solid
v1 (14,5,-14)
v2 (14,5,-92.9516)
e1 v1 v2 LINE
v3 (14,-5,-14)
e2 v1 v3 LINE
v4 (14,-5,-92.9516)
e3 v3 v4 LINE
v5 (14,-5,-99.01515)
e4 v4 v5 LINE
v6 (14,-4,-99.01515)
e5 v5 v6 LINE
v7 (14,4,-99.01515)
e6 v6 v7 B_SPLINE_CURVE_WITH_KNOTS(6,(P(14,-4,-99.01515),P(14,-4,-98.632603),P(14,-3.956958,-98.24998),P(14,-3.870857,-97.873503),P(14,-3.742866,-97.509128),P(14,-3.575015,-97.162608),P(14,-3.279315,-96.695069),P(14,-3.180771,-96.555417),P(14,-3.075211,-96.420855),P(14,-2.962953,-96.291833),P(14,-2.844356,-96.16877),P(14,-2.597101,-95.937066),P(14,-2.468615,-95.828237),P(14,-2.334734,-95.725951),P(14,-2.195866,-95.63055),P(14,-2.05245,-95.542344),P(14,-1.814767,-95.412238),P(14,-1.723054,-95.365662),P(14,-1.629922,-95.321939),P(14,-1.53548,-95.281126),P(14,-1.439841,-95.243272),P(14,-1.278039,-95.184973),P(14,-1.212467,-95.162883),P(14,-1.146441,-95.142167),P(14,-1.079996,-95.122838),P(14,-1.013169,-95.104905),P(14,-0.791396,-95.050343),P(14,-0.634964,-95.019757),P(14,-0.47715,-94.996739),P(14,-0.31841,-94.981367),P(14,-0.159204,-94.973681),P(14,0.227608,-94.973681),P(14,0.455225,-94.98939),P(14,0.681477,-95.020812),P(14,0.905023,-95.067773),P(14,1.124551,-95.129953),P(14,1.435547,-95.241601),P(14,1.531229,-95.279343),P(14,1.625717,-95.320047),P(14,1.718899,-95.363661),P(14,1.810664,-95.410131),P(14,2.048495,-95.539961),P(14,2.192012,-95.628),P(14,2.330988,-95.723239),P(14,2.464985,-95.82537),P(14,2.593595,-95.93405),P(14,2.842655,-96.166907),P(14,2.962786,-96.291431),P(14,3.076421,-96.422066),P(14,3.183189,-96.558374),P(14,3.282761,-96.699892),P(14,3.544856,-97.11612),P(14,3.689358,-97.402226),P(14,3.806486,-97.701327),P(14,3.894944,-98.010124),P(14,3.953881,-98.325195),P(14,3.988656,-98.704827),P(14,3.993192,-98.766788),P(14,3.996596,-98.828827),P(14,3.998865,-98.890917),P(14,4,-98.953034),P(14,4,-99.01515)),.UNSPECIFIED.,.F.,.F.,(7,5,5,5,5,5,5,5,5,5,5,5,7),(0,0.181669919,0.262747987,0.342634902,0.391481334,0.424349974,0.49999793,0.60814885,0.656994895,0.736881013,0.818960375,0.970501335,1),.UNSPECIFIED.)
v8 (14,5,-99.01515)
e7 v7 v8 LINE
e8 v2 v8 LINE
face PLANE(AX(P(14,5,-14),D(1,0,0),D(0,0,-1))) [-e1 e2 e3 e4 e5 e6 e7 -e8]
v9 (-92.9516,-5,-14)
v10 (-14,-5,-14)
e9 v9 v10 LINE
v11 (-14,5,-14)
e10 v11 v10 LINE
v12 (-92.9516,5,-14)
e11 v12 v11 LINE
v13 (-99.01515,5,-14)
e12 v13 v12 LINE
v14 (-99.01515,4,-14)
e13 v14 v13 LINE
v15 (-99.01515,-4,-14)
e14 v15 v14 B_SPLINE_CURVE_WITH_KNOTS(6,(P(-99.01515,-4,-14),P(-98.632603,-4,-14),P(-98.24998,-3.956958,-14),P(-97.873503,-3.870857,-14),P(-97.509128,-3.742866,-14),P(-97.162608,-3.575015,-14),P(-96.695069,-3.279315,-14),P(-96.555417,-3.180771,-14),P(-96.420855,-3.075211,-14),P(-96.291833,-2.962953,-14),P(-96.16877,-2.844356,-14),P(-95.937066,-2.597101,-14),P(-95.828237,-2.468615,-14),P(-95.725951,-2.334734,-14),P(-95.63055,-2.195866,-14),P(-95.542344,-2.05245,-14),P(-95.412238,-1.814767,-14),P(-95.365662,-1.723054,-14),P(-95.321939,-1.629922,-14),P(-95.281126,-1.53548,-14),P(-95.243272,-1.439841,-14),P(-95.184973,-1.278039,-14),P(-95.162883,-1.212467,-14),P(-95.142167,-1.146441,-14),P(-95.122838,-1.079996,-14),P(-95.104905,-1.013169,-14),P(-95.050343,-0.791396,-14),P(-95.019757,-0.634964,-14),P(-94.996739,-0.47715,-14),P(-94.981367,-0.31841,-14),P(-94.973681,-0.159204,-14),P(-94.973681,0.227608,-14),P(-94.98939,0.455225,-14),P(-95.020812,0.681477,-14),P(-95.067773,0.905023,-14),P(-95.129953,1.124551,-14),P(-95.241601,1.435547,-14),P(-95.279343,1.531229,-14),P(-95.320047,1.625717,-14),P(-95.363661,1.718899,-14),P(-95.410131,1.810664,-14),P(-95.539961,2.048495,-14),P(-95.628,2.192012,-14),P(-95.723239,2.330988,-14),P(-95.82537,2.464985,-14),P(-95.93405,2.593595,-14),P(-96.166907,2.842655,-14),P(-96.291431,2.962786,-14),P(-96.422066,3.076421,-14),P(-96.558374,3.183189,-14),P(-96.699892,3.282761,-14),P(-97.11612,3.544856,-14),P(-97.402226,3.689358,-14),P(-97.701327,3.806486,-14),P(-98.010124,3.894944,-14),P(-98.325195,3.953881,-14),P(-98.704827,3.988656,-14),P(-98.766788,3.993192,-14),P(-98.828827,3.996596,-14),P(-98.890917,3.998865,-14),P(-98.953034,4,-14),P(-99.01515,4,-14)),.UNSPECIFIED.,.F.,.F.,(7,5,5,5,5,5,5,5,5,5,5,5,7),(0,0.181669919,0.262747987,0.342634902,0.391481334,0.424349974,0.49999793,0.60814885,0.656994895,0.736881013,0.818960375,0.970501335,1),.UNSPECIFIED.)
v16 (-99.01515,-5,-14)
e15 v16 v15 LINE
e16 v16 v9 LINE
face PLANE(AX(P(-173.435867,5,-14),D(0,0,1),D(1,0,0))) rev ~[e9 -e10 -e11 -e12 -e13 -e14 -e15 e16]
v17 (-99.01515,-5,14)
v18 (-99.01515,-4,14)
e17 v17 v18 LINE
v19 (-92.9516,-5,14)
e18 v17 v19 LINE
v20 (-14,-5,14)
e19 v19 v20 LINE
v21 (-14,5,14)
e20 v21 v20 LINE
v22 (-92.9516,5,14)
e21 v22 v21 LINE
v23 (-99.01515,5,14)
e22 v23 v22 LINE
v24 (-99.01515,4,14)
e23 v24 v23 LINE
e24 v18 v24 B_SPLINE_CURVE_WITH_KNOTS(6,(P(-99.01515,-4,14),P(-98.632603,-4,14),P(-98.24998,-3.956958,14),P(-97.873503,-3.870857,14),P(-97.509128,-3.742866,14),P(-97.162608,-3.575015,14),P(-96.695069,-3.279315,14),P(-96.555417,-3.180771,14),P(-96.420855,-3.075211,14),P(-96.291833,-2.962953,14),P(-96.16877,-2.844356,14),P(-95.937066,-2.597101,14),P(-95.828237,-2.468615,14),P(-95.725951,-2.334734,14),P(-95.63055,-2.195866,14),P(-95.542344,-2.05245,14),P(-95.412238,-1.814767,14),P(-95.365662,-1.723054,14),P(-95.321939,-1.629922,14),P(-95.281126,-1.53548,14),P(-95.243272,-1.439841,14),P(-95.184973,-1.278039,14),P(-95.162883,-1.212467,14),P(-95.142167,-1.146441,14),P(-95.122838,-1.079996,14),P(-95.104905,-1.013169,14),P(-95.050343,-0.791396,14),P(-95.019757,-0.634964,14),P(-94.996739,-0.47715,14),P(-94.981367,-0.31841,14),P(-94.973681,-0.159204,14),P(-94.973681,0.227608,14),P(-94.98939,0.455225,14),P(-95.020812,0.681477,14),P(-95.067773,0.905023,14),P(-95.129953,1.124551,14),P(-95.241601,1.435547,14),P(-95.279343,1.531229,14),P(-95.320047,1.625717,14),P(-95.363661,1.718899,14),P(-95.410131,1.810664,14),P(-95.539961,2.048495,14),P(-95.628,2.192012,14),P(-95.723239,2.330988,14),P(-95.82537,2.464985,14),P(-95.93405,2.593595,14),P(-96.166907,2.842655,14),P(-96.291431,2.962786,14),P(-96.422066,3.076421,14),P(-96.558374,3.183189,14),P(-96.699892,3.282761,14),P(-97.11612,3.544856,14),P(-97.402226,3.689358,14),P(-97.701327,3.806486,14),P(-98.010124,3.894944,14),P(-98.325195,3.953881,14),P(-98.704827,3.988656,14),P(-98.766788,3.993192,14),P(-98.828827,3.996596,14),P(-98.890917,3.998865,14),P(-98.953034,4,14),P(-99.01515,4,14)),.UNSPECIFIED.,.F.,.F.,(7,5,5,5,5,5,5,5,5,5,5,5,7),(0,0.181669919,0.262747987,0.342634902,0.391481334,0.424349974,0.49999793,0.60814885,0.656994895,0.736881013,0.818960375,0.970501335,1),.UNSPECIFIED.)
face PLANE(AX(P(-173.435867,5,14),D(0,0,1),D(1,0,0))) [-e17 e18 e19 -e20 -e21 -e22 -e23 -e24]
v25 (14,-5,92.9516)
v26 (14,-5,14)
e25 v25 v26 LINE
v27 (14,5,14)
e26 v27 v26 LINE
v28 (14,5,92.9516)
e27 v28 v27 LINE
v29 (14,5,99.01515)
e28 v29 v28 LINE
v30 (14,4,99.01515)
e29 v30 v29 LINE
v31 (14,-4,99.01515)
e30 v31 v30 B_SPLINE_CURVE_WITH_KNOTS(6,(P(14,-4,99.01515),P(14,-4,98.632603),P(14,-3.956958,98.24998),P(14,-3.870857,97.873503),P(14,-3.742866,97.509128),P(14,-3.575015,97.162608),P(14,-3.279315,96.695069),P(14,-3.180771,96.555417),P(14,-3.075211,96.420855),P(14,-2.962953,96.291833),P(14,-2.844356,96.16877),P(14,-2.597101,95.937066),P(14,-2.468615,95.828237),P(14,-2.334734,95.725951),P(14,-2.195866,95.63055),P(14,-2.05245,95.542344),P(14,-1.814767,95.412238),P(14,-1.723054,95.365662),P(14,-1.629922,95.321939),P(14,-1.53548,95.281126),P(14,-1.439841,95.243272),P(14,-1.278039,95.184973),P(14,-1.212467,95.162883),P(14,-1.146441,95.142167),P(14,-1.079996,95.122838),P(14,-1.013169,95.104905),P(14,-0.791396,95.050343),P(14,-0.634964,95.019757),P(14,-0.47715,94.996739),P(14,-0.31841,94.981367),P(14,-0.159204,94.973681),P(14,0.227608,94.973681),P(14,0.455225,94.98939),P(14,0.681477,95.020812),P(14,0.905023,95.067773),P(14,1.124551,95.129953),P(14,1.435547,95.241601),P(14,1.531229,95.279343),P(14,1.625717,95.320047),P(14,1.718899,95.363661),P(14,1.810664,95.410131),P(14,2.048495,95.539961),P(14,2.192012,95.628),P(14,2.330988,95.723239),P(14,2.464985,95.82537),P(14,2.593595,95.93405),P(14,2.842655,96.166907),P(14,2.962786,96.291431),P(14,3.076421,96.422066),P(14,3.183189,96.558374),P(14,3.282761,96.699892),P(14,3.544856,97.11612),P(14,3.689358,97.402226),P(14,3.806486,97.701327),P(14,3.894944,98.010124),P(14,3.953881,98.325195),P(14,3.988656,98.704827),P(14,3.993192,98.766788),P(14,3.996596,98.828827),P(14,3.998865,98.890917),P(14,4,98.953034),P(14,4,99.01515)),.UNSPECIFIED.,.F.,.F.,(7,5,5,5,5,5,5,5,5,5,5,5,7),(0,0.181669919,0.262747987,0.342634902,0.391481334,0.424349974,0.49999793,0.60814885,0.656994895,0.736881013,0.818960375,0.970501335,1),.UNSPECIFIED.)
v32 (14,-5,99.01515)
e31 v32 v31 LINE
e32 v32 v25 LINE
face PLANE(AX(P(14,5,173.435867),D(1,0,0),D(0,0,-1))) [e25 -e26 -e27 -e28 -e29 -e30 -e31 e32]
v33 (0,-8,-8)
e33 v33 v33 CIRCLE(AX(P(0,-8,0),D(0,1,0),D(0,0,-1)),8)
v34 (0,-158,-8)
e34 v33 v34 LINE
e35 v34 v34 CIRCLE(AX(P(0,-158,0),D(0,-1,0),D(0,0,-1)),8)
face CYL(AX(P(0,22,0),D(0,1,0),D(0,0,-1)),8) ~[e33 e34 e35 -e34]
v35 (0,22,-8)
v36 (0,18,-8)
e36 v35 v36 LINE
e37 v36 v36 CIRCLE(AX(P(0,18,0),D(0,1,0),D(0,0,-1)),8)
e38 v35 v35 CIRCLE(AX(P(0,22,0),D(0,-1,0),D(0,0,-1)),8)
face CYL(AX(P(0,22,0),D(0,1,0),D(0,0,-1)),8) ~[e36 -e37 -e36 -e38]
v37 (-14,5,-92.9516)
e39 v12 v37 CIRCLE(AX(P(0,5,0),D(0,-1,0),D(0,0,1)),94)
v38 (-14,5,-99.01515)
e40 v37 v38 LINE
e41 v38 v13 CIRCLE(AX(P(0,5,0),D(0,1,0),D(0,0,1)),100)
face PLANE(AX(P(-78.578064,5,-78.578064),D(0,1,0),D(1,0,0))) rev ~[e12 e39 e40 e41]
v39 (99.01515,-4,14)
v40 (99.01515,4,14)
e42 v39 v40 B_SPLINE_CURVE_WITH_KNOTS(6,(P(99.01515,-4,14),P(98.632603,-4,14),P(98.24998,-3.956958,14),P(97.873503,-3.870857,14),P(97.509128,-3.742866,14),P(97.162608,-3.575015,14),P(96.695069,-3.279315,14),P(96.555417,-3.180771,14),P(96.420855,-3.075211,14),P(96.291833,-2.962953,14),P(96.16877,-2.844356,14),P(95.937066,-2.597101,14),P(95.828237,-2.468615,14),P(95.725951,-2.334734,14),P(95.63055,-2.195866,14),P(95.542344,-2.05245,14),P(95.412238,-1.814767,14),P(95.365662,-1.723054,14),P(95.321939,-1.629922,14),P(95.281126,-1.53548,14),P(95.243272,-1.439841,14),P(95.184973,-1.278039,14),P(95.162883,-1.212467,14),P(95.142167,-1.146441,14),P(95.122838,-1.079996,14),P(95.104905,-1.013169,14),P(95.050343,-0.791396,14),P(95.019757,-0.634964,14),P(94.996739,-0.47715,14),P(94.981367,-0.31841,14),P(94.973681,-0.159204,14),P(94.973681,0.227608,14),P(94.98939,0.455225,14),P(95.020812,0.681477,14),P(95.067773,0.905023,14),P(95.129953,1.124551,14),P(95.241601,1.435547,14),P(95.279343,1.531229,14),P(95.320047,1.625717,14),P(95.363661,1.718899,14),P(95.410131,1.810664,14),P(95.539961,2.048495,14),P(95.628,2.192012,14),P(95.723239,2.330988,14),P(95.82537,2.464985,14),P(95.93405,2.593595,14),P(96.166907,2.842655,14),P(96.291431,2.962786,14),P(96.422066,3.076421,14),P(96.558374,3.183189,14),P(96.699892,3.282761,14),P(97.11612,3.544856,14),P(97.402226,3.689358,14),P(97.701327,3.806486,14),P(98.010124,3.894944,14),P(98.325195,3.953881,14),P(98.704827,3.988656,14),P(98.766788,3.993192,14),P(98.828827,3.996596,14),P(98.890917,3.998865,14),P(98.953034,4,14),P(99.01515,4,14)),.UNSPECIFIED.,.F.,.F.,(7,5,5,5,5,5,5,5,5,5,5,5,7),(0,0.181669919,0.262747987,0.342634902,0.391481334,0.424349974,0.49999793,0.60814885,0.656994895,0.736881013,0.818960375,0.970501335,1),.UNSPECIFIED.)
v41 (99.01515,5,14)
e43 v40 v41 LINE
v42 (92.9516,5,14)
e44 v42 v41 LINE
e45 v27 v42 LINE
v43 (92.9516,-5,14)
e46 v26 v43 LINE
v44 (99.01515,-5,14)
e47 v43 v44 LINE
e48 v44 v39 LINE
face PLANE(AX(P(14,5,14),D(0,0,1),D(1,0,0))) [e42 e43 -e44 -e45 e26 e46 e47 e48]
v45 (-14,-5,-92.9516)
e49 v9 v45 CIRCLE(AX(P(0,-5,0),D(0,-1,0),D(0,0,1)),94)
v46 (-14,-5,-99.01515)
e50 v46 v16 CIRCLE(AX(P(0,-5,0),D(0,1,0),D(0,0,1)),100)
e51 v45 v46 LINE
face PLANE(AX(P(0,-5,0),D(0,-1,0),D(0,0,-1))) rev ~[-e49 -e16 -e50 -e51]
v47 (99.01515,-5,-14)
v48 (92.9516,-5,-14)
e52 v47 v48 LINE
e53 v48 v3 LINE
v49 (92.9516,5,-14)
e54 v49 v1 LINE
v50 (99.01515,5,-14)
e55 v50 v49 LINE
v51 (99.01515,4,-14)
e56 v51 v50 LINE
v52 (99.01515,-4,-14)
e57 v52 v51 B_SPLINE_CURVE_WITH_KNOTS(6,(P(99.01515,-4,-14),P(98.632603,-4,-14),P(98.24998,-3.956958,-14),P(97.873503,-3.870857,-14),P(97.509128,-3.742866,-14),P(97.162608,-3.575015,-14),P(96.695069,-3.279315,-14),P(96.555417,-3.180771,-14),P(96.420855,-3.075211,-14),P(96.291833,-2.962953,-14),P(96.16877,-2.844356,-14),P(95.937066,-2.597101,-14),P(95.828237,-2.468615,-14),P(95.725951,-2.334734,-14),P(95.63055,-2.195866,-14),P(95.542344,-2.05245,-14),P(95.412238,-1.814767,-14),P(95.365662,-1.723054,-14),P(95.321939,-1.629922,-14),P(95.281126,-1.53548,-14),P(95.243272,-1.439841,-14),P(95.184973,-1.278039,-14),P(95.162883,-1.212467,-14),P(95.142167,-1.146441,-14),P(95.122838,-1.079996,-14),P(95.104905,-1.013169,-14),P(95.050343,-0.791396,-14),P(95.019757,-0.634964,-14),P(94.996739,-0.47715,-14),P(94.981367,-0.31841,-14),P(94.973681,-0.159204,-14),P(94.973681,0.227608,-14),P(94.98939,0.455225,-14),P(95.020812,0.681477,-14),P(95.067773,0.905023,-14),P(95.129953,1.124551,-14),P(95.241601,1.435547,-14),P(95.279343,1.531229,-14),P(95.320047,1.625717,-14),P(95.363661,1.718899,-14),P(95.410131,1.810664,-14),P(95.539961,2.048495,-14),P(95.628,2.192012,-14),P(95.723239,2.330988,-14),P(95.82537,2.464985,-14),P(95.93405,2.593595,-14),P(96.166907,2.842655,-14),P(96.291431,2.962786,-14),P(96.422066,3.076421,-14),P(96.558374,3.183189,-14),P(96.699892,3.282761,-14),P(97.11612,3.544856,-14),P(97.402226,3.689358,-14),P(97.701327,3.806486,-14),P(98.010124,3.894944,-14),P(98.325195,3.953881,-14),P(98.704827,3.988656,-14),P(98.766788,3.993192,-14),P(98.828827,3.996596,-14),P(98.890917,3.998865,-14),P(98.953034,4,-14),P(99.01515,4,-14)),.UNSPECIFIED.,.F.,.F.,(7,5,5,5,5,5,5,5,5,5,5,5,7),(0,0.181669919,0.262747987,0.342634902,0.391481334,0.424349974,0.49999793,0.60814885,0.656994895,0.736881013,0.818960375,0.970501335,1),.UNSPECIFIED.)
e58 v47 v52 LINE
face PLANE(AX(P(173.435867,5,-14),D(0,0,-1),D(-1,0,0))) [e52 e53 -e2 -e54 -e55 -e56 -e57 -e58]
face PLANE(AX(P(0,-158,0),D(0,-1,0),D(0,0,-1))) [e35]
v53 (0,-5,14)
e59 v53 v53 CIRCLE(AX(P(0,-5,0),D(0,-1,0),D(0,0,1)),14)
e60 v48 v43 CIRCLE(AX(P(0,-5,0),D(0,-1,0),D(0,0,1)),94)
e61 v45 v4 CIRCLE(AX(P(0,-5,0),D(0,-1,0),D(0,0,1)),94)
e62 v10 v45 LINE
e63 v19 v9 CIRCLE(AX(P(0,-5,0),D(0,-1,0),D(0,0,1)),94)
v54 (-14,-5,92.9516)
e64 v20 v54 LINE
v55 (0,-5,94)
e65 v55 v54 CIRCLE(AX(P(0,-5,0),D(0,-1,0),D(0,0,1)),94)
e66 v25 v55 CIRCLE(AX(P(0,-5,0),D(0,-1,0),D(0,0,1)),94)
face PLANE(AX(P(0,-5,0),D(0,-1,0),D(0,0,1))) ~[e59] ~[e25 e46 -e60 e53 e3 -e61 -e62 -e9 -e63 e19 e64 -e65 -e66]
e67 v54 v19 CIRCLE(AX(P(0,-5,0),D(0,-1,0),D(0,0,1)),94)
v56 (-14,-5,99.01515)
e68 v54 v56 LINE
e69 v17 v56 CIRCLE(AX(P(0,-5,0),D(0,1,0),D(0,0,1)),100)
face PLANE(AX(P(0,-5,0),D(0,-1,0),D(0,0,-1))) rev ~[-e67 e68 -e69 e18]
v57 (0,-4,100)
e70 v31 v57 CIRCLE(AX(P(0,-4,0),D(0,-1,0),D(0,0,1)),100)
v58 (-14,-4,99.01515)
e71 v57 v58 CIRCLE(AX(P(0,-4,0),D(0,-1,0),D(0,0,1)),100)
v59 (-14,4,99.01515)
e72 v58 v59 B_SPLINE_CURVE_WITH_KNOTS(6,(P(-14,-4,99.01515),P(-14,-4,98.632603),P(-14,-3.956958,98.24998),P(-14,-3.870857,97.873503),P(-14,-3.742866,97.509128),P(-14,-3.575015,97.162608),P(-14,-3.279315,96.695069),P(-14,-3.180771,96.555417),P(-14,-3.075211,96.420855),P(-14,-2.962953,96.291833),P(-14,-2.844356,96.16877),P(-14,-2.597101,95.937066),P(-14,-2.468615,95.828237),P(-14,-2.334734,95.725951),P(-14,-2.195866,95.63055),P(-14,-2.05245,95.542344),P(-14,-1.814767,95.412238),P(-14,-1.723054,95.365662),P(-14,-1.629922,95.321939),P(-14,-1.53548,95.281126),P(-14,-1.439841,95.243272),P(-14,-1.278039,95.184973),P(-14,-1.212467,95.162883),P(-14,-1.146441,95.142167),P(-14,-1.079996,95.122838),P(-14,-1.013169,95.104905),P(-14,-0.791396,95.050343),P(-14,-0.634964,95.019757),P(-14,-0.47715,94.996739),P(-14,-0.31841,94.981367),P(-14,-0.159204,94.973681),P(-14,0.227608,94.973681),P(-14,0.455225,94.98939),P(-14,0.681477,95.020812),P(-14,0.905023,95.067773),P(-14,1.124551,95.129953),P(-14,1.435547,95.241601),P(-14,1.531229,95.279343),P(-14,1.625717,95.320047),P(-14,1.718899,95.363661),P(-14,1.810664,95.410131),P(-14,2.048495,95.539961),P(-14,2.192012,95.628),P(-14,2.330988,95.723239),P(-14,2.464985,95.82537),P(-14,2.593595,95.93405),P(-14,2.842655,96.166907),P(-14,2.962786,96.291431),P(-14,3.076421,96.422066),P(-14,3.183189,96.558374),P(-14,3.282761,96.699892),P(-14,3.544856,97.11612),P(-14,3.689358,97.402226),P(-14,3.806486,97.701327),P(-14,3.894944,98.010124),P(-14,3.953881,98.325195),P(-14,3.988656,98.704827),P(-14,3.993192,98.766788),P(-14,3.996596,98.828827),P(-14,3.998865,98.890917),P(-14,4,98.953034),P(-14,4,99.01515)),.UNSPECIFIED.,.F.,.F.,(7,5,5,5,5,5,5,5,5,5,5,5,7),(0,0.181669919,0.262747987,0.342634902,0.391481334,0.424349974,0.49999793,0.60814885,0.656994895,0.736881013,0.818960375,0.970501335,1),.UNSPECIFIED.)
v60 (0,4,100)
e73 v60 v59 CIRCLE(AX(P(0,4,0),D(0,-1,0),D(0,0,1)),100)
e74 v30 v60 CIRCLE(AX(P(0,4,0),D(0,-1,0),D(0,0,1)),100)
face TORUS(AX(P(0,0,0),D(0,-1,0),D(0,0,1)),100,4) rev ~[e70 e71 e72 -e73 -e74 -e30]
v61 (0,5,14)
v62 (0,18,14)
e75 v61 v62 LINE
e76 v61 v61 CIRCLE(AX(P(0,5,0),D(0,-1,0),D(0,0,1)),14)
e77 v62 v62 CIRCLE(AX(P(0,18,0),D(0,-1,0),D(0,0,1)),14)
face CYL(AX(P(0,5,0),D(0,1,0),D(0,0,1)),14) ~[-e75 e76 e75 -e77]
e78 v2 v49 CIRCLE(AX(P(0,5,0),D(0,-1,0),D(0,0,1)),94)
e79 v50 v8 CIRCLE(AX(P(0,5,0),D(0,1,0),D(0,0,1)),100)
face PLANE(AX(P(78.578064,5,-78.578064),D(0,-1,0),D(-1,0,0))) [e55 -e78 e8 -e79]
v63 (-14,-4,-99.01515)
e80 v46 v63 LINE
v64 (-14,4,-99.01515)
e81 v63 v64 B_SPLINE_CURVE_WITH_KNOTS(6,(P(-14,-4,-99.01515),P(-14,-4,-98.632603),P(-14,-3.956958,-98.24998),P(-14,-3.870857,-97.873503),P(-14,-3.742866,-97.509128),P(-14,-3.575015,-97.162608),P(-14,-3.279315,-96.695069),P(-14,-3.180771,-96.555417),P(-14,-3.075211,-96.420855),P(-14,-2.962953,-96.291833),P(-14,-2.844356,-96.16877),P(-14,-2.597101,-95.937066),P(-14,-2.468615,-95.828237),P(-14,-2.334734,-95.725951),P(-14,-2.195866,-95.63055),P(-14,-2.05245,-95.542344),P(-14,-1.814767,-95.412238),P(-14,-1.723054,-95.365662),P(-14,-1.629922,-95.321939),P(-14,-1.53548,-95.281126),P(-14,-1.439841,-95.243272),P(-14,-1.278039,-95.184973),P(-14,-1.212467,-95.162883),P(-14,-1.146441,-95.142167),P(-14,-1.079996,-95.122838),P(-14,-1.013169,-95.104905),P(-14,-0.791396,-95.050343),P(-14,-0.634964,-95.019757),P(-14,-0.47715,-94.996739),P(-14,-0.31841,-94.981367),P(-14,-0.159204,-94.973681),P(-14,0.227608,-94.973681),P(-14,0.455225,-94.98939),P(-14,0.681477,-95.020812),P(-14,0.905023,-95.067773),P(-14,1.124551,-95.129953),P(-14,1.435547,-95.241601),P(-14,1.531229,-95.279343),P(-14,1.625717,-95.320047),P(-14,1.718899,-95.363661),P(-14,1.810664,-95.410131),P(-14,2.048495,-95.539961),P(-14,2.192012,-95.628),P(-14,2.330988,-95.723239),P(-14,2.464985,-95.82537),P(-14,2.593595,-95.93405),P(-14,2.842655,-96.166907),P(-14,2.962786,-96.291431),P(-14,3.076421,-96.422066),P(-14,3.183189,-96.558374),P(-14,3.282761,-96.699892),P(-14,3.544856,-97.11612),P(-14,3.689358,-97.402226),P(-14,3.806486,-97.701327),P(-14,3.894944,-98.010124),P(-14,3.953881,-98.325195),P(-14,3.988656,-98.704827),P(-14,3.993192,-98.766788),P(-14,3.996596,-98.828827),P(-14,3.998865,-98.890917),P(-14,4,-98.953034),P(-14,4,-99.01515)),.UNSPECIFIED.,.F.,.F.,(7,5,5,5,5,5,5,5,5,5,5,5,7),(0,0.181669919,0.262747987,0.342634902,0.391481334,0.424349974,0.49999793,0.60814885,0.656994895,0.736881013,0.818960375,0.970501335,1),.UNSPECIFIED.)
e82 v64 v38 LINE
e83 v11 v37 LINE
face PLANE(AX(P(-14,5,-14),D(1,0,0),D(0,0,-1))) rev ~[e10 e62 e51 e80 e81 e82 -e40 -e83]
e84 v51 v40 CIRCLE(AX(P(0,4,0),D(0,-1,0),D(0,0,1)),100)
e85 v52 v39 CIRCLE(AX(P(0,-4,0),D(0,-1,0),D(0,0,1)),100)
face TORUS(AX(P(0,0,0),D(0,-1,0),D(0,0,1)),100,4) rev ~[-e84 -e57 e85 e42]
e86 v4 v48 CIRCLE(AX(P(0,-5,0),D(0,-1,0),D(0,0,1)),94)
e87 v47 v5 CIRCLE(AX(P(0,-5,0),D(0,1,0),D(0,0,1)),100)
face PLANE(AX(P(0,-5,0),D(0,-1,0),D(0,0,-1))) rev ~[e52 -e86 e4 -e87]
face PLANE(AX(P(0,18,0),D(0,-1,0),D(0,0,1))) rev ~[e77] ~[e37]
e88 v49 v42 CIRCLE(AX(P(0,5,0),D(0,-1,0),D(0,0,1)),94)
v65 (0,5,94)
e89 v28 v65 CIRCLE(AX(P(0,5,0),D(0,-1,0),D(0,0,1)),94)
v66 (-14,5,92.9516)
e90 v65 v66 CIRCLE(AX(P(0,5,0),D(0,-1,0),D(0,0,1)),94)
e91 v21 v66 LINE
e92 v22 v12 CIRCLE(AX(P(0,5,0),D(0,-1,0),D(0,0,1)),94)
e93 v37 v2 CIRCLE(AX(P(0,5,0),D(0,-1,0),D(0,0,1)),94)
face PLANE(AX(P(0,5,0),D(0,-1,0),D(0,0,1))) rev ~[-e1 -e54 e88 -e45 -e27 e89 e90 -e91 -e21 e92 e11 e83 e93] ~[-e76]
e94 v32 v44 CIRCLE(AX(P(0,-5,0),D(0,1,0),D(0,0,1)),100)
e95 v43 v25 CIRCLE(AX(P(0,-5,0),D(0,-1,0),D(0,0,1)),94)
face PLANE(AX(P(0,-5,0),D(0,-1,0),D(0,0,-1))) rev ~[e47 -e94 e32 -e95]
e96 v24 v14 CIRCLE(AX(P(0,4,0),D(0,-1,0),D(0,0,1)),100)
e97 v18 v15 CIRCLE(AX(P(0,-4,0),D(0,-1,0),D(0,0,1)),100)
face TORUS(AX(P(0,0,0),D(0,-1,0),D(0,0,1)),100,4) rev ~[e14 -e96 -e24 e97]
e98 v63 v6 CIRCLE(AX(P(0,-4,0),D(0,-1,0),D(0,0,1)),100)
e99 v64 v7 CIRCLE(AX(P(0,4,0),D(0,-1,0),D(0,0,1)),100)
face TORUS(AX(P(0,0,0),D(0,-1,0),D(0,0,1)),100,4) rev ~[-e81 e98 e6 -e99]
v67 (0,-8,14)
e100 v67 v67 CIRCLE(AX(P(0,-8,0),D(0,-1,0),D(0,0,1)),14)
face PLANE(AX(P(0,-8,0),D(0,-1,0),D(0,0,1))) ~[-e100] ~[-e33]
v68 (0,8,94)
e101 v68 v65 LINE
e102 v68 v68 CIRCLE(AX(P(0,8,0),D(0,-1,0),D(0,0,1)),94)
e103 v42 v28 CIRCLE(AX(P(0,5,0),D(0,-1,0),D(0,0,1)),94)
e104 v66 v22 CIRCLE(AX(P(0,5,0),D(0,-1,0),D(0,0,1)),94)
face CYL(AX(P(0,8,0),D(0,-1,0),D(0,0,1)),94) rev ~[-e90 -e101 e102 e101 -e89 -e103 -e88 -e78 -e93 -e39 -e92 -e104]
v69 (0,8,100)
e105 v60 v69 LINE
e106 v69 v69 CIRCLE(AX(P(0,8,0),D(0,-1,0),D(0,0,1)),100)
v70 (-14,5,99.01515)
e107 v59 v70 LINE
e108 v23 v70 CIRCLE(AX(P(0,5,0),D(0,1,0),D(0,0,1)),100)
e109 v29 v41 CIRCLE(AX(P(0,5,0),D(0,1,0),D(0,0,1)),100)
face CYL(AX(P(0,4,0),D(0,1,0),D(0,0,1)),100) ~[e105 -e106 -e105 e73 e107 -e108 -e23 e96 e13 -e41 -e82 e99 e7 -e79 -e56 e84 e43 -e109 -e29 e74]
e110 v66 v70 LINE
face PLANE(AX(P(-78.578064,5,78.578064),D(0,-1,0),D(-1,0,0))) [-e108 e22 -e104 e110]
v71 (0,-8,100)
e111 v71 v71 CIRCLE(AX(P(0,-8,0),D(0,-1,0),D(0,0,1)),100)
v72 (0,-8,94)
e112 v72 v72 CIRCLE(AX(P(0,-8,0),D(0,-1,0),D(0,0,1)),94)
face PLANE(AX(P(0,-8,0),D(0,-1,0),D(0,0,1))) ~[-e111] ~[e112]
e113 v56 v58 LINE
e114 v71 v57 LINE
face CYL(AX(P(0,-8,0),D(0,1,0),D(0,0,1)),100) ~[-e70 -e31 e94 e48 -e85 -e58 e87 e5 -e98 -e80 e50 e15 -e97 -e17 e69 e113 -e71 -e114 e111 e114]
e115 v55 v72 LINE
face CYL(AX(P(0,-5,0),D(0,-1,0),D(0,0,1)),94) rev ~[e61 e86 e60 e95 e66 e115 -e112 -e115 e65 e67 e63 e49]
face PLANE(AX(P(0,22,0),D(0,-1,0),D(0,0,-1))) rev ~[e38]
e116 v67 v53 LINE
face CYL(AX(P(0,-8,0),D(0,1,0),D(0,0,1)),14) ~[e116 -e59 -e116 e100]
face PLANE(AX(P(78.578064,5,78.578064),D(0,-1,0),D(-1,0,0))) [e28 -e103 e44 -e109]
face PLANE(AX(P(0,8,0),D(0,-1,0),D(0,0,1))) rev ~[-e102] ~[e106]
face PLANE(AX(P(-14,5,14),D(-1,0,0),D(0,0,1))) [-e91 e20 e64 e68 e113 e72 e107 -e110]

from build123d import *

# Parameters (mm, degrees)
CUT_EXTRUDE1_REACH       = 144.018
BOSS_EXTRUDE1_DEPTH      = 150
BOSS_EXTRUDE1_DEPTH_BACK = 30
SKETCH3_R                = 8


with BuildPart() as part:
    # Sketch1 → Revolve2 (revolve)
    with BuildSketch(Plane.XY, mode=Mode.PRIVATE) as revolve2_sk:
        with BuildLine():
            Line((8, 8), (8, -8))
            Line((8, -8), (14, -8))
            Line((14, -8), (14, -5))
            Line((14, -5), (94, -5))
            Line((94, -5), (94, -8))
            Line((94, -8), (100, -8))
            Line((100, -8), (100, -4))
            ThreePointArc((100, -4), (96, 0), (100, 4))
            Line((100, 4), (100, 8))
            Line((100, 8), (94, 8))
            Line((94, 8), (94, 5))
            Line((94, 5), (14, 5))
            Line((14, 5), (14, 8))
            Line((14, 8), (14, 18))
            Line((14, 18), (8, 18))
            Line((8, 18), (8, 8))
        make_face()
    revolve(revolve2_sk.sketch.rotate(Axis((0, 60.317614973, 0), (0, -1, 0)), 90), axis=Axis((0, 60.317614973, 0), (0, -1, 0)))

    # Cut-Extrude1: up to this face of the body (flat: up to its plane)
    cut_extrude1_end = Plane(part.part.faces().sort_by_distance((0, -5, -16.658721497))[0])
    # Sketch2 → Cut-Extrude1 (cut, up to the picked face)
    with BuildSketch(Plane(origin=(0, 5, 0), x_dir=(1, 0, 0), z_dir=(0, 1, 0)), mode=Mode.PRIVATE) as cut_extrude1_sk1:
        with BuildLine():
            Line((14, 14), (14, 173.435867109))
            ThreePointArc((14, 173.435867109), (123.036579926, 123.036579926), (173.435867109, 14))
            Line((173.435867109, 14), (14, 14))
        make_face()
    cut_extrude1_tool1 = split(extrude(cut_extrude1_sk1.sketch, amount=-CUT_EXTRUDE1_REACH, mode=Mode.PRIVATE), bisect_by=cut_extrude1_end, keep=Keep.BOTH, mode=Mode.PRIVATE)
    # Sketch2 → Cut-Extrude1 (cut, up to the picked face)
    with BuildSketch(Plane(origin=(0, 5, 0), x_dir=(1, 0, 0), z_dir=(0, 1, 0)), mode=Mode.PRIVATE) as cut_extrude1_sk2:
        with BuildLine():
            Line((-173.435867109, -14), (-14, -14))
            Line((-14, -14), (-14, -173.435867109))
            ThreePointArc((-14, -173.435867109), (-123.036579926, -123.036579926), (-173.435867109, -14))
        make_face()
    cut_extrude1_tool2 = split(extrude(cut_extrude1_sk2.sketch, amount=-CUT_EXTRUDE1_REACH, mode=Mode.PRIVATE), bisect_by=cut_extrude1_end, keep=Keep.BOTH, mode=Mode.PRIVATE)
    # Sketch2 → Cut-Extrude1 (cut, up to the picked face)
    with BuildSketch(Plane(origin=(0, 5, 0), x_dir=(1, 0, 0), z_dir=(0, 1, 0)), mode=Mode.PRIVATE) as cut_extrude1_sk3:
        with BuildLine():
            Line((-14, 14), (-14, 173.435867109))
            ThreePointArc((-14, 173.435867109), (-123.036579926, 123.036579926), (-173.435867109, 14))
            Line((-173.435867109, 14), (-14, 14))
        make_face()
    cut_extrude1_tool3 = split(extrude(cut_extrude1_sk3.sketch, amount=-CUT_EXTRUDE1_REACH, mode=Mode.PRIVATE), bisect_by=cut_extrude1_end, keep=Keep.BOTH, mode=Mode.PRIVATE)
    # Sketch2 → Cut-Extrude1 (cut, up to the picked face)
    with BuildSketch(Plane(origin=(0, 5, 0), x_dir=(1, 0, 0), z_dir=(0, 1, 0)), mode=Mode.PRIVATE) as cut_extrude1_sk4:
        with BuildLine():
            Line((14, -14), (173.435867109, -14))
            ThreePointArc((173.435867109, -14), (123.036579926, -123.036579926), (14, -173.435867109))
            Line((14, -173.435867109), (14, -14))
        make_face()
    cut_extrude1_tool4 = split(extrude(cut_extrude1_sk4.sketch, amount=-CUT_EXTRUDE1_REACH, mode=Mode.PRIVATE), bisect_by=cut_extrude1_end, keep=Keep.BOTH, mode=Mode.PRIVATE)
    add(cut_extrude1_tool1.solids().sort_by(Axis((80.012708, 5, -80.012708), (0, -1, 0)))[0], mode=Mode.SUBTRACT)
    add(cut_extrude1_tool2.solids().sort_by(Axis((-80.012708, 5, 80.012708), (0, -1, 0)))[0], mode=Mode.SUBTRACT)
    add(cut_extrude1_tool3.solids().sort_by(Axis((-80.012708, 5, -80.012708), (0, -1, 0)))[0], mode=Mode.SUBTRACT)
    add(cut_extrude1_tool4.solids().sort_by(Axis((80.012708, 5, 80.012708), (0, -1, 0)))[0], mode=Mode.SUBTRACT)

    # Sketch3 → Boss-Extrude1 (add, two sides: drawn at the far end of the back side and taken through both)
    with BuildSketch(Plane.XZ.offset(8).offset(-BOSS_EXTRUDE1_DEPTH_BACK)):
        with Locations(Location((0, 0, 0), (0, 0, 270))):
            Circle(SKETCH3_R)
    extrude(amount=BOSS_EXTRUDE1_DEPTH + BOSS_EXTRUDE1_DEPTH_BACK)


solid = part.part
